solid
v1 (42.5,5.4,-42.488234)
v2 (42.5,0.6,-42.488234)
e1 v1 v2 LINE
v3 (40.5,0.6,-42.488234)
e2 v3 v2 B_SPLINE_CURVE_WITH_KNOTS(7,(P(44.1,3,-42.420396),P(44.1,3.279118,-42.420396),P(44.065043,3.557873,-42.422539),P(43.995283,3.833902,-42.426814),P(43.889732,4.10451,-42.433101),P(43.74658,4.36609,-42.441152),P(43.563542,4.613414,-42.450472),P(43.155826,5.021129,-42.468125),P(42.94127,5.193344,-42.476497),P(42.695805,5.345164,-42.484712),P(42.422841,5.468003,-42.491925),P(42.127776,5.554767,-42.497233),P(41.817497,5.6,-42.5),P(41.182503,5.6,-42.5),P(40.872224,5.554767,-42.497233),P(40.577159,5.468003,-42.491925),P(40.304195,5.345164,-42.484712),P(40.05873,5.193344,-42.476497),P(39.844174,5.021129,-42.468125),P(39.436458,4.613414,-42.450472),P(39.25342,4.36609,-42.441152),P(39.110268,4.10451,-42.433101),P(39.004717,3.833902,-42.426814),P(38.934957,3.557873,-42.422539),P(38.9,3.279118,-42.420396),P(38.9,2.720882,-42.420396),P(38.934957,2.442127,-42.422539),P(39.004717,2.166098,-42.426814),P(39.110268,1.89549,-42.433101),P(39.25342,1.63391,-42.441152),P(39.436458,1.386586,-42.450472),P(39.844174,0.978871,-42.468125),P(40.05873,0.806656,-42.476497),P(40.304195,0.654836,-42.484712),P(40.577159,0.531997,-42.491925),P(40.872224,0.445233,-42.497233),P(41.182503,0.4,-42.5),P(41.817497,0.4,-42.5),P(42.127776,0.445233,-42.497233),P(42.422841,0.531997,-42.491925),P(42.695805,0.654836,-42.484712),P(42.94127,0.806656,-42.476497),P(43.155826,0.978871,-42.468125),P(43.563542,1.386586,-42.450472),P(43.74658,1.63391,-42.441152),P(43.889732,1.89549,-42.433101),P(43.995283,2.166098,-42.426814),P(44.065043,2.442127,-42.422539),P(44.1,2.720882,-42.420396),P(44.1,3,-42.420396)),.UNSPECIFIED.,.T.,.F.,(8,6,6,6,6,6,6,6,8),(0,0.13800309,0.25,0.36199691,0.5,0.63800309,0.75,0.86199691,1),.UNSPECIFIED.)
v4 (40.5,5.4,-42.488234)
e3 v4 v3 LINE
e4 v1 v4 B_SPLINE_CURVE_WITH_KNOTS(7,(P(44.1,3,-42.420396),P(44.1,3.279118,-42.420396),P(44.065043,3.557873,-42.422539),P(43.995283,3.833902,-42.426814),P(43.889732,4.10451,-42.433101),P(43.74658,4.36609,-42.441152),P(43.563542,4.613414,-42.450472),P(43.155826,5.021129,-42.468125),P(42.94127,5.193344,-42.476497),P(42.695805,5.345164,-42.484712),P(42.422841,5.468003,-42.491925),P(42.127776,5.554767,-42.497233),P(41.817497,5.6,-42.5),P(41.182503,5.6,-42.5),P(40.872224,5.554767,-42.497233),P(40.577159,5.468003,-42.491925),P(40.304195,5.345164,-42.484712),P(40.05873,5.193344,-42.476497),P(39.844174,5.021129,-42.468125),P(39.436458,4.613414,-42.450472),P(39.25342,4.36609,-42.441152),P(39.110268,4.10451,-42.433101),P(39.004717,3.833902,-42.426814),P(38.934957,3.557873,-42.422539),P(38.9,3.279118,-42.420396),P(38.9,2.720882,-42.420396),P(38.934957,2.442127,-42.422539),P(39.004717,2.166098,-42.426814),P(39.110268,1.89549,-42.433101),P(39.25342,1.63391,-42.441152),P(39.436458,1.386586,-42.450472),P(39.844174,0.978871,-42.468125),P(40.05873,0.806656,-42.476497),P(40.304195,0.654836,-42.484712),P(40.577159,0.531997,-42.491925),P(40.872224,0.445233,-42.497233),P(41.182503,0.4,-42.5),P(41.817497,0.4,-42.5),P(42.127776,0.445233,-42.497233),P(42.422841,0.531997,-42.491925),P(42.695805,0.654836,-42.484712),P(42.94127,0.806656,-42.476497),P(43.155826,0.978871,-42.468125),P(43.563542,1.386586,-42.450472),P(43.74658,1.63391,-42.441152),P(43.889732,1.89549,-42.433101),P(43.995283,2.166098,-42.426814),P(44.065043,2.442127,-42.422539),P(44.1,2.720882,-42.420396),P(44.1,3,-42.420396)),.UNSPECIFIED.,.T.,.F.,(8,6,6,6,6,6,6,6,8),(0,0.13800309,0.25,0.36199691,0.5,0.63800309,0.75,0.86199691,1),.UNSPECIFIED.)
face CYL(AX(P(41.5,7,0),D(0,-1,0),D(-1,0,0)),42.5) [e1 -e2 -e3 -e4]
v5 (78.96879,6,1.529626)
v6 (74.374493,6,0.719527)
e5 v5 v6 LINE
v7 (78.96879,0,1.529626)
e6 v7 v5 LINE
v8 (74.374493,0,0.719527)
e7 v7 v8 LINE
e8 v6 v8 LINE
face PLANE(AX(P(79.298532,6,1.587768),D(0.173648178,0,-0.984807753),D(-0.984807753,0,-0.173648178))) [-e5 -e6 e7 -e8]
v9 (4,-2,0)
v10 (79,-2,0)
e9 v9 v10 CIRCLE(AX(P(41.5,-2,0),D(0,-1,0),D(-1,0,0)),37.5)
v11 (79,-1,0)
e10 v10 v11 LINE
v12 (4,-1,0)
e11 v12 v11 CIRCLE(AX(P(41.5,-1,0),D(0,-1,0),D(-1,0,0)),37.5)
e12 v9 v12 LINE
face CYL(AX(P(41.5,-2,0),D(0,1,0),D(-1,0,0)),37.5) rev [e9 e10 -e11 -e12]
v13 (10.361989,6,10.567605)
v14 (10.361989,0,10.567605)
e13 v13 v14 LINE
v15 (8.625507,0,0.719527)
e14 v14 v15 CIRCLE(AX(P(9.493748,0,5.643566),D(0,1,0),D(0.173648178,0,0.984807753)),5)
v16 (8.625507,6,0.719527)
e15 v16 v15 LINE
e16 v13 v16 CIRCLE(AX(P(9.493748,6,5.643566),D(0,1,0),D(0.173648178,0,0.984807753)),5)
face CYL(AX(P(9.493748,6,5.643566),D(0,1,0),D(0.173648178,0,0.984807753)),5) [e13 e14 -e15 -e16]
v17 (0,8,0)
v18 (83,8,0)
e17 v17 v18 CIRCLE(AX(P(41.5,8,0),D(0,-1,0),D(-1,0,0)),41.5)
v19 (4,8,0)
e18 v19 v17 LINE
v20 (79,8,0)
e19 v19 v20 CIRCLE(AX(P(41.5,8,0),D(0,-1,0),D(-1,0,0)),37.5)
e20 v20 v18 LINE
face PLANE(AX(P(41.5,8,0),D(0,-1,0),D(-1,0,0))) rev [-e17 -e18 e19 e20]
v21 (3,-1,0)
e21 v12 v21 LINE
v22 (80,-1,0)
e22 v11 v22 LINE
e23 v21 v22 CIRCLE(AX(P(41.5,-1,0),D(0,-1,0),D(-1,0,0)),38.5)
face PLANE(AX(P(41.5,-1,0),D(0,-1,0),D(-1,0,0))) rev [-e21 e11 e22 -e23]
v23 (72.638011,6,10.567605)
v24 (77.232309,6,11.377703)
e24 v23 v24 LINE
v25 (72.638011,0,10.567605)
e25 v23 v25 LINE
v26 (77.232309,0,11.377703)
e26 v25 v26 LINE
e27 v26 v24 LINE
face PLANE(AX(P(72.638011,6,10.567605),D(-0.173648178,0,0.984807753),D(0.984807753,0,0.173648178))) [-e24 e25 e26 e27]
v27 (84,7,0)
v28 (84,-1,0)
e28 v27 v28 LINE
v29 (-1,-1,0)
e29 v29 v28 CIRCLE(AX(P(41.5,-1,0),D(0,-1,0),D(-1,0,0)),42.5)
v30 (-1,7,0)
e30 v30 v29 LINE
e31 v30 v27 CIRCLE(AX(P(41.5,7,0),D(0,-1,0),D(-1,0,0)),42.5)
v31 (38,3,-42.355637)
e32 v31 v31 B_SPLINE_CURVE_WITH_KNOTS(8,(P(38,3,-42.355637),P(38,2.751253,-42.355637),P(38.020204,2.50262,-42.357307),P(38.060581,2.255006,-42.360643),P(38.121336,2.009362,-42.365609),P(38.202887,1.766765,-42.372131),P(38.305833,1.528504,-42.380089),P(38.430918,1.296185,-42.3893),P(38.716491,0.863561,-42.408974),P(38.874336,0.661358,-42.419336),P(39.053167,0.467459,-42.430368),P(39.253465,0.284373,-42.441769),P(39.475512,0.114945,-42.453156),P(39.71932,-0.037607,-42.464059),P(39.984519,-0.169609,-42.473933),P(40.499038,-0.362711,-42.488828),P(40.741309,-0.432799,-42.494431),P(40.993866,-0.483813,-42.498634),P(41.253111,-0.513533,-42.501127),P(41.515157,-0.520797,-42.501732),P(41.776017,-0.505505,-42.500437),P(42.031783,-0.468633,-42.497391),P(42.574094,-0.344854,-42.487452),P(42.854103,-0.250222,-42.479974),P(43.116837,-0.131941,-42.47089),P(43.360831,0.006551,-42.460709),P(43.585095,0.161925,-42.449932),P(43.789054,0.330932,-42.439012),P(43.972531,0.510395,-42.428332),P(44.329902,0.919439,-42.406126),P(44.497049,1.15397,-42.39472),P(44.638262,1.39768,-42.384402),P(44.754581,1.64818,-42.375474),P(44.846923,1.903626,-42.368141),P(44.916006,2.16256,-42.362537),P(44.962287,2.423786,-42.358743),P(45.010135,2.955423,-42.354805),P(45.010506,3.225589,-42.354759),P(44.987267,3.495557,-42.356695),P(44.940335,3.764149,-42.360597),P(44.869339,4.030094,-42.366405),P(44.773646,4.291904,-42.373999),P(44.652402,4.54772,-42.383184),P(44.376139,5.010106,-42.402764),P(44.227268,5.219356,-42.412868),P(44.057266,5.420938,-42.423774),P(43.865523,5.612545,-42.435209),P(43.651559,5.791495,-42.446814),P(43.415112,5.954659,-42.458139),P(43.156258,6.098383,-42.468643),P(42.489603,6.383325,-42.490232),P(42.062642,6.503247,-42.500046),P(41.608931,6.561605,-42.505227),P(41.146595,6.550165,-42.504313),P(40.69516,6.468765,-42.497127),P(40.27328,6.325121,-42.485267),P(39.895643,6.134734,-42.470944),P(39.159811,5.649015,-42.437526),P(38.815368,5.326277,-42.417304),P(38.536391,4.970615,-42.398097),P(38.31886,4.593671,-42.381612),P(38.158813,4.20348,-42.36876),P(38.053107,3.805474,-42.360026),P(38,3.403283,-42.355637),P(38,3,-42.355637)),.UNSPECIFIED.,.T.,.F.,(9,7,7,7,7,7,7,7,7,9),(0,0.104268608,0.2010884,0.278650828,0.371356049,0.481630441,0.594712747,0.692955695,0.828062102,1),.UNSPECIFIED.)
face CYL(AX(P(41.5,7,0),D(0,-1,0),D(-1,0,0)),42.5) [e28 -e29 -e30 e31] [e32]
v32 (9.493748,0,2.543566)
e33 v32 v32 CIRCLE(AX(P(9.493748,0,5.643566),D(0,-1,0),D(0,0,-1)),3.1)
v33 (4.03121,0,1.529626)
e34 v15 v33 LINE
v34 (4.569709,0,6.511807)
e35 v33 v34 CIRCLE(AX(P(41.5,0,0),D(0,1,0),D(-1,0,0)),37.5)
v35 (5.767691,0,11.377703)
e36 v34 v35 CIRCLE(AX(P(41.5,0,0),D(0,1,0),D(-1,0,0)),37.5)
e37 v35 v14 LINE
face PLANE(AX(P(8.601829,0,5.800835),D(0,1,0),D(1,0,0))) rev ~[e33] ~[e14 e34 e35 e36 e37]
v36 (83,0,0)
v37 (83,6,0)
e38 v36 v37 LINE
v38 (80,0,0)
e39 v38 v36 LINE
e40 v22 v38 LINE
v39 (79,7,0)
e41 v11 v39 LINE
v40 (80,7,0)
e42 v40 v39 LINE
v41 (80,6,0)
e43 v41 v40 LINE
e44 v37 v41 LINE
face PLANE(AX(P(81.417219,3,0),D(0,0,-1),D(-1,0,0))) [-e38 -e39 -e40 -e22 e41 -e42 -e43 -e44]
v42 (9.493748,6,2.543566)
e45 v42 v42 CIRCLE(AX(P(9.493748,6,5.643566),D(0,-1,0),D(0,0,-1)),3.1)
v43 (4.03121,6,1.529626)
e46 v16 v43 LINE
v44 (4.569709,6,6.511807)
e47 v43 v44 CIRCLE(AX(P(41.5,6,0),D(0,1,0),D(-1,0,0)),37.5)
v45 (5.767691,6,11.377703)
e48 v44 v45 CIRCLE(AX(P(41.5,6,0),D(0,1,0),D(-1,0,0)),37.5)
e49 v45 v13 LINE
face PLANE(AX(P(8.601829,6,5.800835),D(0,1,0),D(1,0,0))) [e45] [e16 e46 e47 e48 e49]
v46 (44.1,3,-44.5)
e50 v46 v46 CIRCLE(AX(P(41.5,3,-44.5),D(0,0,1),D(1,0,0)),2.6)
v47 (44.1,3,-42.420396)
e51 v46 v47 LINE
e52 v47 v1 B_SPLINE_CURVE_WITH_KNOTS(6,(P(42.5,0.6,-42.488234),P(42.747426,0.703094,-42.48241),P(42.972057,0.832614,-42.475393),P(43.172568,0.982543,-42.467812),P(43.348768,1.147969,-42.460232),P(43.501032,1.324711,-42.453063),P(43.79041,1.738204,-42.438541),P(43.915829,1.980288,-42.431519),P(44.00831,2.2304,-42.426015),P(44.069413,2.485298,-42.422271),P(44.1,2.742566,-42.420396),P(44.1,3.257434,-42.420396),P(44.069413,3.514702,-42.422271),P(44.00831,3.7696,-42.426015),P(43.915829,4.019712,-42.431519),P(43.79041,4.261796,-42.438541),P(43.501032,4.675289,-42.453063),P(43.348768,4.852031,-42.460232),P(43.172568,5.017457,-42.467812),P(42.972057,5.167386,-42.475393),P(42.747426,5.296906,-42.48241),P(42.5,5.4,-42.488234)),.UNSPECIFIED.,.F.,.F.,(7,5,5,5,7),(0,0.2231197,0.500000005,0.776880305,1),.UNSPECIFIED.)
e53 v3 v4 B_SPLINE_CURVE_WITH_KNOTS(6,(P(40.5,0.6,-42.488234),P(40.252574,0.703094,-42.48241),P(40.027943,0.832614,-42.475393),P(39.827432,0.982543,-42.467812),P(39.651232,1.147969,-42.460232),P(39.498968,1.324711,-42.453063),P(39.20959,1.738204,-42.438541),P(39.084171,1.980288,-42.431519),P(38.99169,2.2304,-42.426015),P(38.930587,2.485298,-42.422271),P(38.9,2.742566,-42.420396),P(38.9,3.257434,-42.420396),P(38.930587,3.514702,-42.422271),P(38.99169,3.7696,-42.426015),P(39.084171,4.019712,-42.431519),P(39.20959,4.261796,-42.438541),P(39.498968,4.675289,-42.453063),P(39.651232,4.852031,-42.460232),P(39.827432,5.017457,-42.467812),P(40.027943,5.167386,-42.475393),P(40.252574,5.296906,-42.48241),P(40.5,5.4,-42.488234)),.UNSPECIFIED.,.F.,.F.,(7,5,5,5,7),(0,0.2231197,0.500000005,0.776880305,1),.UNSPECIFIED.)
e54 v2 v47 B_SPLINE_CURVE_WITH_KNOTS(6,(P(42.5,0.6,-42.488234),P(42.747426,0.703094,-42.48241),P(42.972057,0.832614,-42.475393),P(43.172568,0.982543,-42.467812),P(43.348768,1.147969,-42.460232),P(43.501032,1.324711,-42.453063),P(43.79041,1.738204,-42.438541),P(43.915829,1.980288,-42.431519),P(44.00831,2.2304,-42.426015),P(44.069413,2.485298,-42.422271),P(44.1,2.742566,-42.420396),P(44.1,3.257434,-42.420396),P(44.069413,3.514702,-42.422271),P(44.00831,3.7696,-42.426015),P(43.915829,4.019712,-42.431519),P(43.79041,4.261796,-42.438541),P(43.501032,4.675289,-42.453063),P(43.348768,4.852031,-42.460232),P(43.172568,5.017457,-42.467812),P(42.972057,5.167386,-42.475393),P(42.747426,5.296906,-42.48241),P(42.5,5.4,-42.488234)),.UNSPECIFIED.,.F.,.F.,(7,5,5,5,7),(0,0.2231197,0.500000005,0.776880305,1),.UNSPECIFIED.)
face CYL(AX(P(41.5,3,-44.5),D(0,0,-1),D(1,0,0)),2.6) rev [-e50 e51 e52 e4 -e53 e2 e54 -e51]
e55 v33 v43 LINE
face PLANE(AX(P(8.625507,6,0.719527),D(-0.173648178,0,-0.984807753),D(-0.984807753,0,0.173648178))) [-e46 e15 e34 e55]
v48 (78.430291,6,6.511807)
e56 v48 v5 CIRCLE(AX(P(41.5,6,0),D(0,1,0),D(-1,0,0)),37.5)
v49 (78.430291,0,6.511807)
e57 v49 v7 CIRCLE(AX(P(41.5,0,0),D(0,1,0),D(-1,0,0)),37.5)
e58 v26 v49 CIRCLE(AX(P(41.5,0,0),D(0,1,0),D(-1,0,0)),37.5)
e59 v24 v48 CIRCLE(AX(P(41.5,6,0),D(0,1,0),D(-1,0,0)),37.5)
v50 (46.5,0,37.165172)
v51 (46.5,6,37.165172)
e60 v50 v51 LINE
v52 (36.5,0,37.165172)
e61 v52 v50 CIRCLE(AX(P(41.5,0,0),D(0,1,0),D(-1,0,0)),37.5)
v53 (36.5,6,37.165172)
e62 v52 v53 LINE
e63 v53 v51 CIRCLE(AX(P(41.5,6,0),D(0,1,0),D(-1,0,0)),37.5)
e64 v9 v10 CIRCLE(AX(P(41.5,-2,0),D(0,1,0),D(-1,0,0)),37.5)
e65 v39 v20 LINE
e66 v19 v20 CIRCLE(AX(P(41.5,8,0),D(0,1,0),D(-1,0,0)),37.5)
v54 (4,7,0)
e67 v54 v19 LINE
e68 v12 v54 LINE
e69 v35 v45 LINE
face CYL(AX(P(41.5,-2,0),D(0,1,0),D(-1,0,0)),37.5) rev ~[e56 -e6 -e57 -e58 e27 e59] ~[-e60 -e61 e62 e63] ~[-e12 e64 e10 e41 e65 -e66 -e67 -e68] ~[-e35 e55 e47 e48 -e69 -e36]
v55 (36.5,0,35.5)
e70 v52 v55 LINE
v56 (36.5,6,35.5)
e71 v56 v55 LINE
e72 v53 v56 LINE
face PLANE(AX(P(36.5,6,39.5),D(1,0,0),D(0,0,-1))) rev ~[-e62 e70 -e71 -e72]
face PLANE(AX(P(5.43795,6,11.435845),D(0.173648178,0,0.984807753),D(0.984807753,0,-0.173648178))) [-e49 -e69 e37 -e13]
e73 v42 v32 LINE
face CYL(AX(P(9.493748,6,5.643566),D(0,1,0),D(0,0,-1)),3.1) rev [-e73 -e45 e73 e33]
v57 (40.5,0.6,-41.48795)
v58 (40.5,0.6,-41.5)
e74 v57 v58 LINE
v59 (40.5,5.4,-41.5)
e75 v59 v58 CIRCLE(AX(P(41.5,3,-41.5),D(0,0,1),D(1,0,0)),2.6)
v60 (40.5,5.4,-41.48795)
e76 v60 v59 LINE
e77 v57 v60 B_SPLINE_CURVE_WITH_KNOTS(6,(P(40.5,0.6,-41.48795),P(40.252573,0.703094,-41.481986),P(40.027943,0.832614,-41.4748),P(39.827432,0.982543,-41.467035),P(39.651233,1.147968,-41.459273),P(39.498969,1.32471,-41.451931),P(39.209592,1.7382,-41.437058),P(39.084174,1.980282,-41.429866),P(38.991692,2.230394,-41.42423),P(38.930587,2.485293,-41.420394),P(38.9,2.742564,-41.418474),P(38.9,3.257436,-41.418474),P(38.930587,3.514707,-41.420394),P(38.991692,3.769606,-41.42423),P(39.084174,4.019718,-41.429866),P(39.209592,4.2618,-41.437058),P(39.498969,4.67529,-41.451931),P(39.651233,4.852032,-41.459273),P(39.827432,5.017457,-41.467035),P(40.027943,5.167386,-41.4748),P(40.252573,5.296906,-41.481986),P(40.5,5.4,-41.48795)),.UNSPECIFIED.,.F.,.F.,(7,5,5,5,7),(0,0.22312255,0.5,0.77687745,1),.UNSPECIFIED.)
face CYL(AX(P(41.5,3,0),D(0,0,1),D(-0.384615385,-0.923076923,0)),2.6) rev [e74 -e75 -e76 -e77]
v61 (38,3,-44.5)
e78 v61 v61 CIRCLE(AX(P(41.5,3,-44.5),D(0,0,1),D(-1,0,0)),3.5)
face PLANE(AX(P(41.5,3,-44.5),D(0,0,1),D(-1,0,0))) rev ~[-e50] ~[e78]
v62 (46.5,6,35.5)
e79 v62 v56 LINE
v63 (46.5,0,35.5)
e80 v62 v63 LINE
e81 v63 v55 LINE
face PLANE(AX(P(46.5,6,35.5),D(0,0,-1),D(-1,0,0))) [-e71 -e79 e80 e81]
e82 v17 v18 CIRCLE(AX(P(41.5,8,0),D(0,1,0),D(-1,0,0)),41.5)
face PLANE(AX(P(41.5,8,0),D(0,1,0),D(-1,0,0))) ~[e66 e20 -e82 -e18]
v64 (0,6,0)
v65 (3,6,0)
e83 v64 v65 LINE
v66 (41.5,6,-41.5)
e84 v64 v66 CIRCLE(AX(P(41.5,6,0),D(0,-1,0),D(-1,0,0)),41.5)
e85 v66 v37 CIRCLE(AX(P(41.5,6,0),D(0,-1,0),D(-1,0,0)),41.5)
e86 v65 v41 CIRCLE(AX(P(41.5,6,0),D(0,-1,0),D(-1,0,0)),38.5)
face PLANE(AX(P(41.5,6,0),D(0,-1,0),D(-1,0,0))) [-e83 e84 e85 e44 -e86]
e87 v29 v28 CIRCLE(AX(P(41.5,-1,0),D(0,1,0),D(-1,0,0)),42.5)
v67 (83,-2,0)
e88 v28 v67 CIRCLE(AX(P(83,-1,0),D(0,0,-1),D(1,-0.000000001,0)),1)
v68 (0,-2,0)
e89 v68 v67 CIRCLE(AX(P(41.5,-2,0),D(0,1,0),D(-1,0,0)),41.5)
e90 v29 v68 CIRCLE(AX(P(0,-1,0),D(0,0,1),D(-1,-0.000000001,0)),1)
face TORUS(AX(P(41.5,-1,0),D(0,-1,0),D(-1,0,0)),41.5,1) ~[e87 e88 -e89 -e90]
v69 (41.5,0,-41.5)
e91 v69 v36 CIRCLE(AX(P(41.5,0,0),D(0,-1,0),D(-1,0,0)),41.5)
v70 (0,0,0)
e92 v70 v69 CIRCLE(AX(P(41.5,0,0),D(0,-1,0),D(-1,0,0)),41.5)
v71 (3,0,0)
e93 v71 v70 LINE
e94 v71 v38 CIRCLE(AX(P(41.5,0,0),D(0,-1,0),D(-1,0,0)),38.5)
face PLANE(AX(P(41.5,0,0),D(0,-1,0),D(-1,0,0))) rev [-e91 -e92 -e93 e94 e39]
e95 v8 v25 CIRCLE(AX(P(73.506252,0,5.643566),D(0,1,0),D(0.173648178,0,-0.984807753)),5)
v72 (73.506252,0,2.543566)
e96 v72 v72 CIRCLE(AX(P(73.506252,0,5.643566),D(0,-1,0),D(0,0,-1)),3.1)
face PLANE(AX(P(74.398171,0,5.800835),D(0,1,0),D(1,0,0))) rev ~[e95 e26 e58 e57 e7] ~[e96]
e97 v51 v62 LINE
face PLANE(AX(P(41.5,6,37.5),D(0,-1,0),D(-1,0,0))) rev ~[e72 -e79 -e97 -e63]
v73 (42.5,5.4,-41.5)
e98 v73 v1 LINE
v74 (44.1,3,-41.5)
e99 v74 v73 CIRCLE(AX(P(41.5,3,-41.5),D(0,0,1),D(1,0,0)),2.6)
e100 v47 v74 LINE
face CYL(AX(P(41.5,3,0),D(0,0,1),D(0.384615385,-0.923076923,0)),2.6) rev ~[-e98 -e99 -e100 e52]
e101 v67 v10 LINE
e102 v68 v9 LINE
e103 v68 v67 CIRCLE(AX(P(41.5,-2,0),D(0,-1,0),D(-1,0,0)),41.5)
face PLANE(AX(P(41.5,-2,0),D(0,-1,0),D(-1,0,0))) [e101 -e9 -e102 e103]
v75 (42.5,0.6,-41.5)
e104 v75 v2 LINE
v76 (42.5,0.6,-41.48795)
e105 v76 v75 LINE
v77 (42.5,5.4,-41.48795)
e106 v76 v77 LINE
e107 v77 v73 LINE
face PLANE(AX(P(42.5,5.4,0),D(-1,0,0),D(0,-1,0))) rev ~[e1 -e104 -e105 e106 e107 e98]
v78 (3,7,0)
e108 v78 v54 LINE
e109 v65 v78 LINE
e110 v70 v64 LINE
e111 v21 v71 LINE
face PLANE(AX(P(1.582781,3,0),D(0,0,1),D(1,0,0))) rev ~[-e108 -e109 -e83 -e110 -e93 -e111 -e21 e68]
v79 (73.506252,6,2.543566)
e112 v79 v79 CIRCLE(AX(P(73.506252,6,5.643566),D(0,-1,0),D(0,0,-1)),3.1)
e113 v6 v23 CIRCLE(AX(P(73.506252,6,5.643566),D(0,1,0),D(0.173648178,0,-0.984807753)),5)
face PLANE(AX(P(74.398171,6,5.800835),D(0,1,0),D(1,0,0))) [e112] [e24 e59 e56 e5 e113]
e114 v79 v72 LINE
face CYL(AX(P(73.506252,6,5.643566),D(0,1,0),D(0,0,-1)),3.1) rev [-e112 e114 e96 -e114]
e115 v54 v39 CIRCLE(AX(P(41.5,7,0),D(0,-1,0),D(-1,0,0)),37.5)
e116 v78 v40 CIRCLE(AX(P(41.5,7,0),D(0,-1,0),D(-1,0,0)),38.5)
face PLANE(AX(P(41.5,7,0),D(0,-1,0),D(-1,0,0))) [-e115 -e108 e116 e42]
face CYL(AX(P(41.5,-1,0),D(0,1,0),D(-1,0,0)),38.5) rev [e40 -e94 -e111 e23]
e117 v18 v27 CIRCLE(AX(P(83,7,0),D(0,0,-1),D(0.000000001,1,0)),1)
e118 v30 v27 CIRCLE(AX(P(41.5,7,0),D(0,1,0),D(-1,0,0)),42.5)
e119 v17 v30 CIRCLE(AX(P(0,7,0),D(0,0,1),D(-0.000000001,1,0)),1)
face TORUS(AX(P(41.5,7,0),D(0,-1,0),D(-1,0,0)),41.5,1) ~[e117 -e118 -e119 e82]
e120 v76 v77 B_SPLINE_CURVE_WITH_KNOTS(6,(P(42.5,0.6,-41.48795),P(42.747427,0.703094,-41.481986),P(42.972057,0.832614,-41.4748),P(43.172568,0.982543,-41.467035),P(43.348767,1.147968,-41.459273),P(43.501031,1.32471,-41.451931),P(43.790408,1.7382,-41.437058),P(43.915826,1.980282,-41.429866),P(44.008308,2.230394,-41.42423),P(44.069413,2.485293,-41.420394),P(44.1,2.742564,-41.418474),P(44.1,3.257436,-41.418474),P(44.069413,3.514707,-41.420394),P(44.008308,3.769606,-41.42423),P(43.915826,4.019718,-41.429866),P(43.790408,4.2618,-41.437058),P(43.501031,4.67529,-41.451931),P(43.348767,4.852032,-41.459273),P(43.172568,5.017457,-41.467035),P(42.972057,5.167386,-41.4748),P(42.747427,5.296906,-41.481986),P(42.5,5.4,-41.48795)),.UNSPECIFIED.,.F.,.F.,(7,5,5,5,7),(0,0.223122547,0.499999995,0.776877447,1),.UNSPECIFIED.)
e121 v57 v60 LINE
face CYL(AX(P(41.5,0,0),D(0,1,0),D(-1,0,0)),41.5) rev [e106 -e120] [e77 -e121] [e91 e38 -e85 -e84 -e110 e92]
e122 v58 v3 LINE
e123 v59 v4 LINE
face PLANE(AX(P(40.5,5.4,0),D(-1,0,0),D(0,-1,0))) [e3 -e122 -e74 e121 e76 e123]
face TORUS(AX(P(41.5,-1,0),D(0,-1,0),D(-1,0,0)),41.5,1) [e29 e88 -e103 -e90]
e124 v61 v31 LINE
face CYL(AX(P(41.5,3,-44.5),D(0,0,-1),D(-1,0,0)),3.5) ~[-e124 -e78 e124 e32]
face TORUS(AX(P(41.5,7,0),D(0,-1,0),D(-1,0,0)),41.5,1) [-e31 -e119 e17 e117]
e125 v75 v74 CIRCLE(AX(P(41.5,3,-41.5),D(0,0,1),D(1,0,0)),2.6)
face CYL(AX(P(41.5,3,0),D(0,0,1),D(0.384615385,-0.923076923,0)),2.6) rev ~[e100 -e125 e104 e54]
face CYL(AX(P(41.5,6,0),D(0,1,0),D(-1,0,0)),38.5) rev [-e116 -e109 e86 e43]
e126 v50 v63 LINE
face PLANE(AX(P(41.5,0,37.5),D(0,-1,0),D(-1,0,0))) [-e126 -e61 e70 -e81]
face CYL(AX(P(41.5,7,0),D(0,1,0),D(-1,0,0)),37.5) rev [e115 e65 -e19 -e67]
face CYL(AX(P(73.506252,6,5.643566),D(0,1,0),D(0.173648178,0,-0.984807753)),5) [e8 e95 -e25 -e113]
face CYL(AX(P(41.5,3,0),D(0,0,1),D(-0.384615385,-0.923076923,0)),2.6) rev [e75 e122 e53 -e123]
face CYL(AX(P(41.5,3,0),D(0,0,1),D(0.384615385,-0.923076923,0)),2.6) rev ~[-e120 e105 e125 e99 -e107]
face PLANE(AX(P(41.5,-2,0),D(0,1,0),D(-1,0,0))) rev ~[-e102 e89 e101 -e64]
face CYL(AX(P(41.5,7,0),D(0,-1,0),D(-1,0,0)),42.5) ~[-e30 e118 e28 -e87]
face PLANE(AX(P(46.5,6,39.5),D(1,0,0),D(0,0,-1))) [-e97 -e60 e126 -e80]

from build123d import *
from build123d.topology import SkipClean

# Parameters (mm, degrees)
REVOLVE_1_ANGLE      = 180
REVOLVE_2_ANGLE      = 180
EXTRUDE_5_DEPTH      = 3
EXTRUDE_5_DEPTH_BACK = 3
SKETCH_4_R           = 3.1
SKETCH_4_W           = 10
SKETCH_4_H           = 4
CUT_EXTRUDE_1_DEPTH  = 95.478833653
EXTRUDE_6_DEPTH      = 1
EXTRUDE_6_DEPTH_BACK = 2
SKETCH_6_R           = 3.5
SKETCH_6_R_2         = 2.6


with BuildPart() as part:
    # 草图1 → 旋转1 (revolve)
    with BuildSketch(Plane.XY):
        with BuildLine():
            Line((3, 6), (3, 7))
            Line((3, 7), (4, 7))
            Line((4, 7), (4, 8))
            Line((4, 8), (1.5, 8))
            Line((1.5, 8), (0, 8))
            ThreePointArc((0, 8), (-0.707106781, 7.707106781), (-1, 7))
            Line((-1, 7), (-1, -1))
            ThreePointArc((-1, -1), (-0.707106781, -1.707106781), (0, -2))
            Line((0, -2), (1.5, -2))
            Line((1.5, -2), (4, -2))
            Line((4, -2), (4, -1))
            Line((4, -1), (3, -1))
            Line((3, -1), (3, 0))
            Line((3, 0), (0, 0))
            Line((0, 0), (0, 6))
            Line((0, 6), (3, 6))
        make_face()
    revolve(axis=Axis((41.5, 14.191636994, 0), (0, -1, 0)), revolution_arc=REVOLVE_1_ANGLE)

    # 草图2 → 旋转2 (revolve)
    with SkipClean():  # the faces are left unmerged after this step: merging them gives an invalid solid
        with BuildSketch(Plane.XY):
            with BuildLine():
                Line((0, -2), (4, -2))
                Line((4, -2), (4, 8))
                Line((4, 8), (0, 8))
                ThreePointArc((0, 8), (-0.707106781, 7.707106781), (-1, 7))
                Line((-1, 7), (-1, -1))
                ThreePointArc((-1, -1), (-0.707106781, -1.707106781), (0, -2))
            make_face()
        revolve(axis=Axis((41.5, 14.191636994, 0), (0, 1, 0)), revolution_arc=REVOLVE_2_ANGLE)

    # 草图4 → 凸台-拉伸5 (add, two sides: drawn at the far end of the back side and taken through both)
    # profile 1 of 3: a face of its own
    with SkipClean():  # the faces are left unmerged after this step: merging them gives an invalid solid
        with BuildSketch(Plane(origin=(0, 3, 0), x_dir=(-1, 0, 0), z_dir=(0, -1, 0)).offset(-EXTRUDE_5_DEPTH_BACK)):
            with BuildLine():
                Line((-3.701468374, -1.587767897), (-5.43795015, -11.435845428))
                Line((-5.43795015, -11.435845428), (-10.361988915, -10.567604539))
                ThreePointArc((-10.361988915, -10.567604539), (-14.417786792, -4.775324886), (-8.625507139, -0.719527009))
                Line((-8.625507139, -0.719527009), (-3.701468374, -1.587767897))
            make_face()
            with Locations((-9.493748027, -5.643565774)):
                Circle(SKETCH_4_R, mode=Mode.SUBTRACT)
        # profile 2 of 3: a face of its own
        with BuildSketch(Plane(origin=(0, 3, 0), x_dir=(-1, 0, 0), z_dir=(0, -1, 0)).offset(-EXTRUDE_5_DEPTH_BACK)):
            with BuildLine():
                Line((-77.56204985, -11.435845428), (-79.298531626, -1.587767897))
                Line((-79.298531626, -1.587767897), (-74.374492861, -0.719527009))
                ThreePointArc((-74.374492861, -0.719527009), (-68.582213208, -4.775324886), (-72.638011085, -10.567604539))
                Line((-72.638011085, -10.567604539), (-77.56204985, -11.435845428))
            make_face()
            with Locations((-73.506251973, -5.643565774)):
                Circle(SKETCH_4_R, mode=Mode.SUBTRACT)
        # profile 3 of 3: a face of its own
        with BuildSketch(Plane(origin=(0, 3, 0), x_dir=(-1, 0, 0), z_dir=(0, -1, 0)).offset(-EXTRUDE_5_DEPTH_BACK)):
            with Locations((-41.5, -37.5)):
                Rectangle(SKETCH_4_W, SKETCH_4_H)
        extrude(amount=EXTRUDE_5_DEPTH + EXTRUDE_5_DEPTH_BACK)

    # 草图5 → 切除-拉伸1 (cut, through all)
    with SkipClean():  # the faces are left unmerged after this step: merging them gives an invalid solid
        with BuildSketch(Plane.XY):
            with BuildLine():
                Line((40.5, 5.4), (40.5, 0.6))
                ThreePointArc((40.5, 0.6), (38.9, 3), (40.5, 5.4))
            make_face()
            with BuildLine():
                Line((42.5, 5.4), (42.5, 0.6))
                ThreePointArc((42.5, 0.6), (44.1, 3), (42.5, 5.4))
            make_face()
        extrude(amount=-CUT_EXTRUDE_1_DEPTH, mode=Mode.SUBTRACT)

    # 草图6 → 凸台-拉伸6 (add, two sides: drawn at the far end of the back side and taken through both)
    with SkipClean():  # the faces are left unmerged after this step: merging them gives an invalid solid
        with BuildSketch(Plane.XY.offset(-42.5).offset(-EXTRUDE_6_DEPTH_BACK)):
            with Locations((41.5, 3)):
                Circle(SKETCH_6_R)
            with Locations((41.5, 3)):
                Circle(SKETCH_6_R_2, mode=Mode.SUBTRACT)
        extrude(amount=EXTRUDE_6_DEPTH + EXTRUDE_6_DEPTH_BACK)


solid = part.part
